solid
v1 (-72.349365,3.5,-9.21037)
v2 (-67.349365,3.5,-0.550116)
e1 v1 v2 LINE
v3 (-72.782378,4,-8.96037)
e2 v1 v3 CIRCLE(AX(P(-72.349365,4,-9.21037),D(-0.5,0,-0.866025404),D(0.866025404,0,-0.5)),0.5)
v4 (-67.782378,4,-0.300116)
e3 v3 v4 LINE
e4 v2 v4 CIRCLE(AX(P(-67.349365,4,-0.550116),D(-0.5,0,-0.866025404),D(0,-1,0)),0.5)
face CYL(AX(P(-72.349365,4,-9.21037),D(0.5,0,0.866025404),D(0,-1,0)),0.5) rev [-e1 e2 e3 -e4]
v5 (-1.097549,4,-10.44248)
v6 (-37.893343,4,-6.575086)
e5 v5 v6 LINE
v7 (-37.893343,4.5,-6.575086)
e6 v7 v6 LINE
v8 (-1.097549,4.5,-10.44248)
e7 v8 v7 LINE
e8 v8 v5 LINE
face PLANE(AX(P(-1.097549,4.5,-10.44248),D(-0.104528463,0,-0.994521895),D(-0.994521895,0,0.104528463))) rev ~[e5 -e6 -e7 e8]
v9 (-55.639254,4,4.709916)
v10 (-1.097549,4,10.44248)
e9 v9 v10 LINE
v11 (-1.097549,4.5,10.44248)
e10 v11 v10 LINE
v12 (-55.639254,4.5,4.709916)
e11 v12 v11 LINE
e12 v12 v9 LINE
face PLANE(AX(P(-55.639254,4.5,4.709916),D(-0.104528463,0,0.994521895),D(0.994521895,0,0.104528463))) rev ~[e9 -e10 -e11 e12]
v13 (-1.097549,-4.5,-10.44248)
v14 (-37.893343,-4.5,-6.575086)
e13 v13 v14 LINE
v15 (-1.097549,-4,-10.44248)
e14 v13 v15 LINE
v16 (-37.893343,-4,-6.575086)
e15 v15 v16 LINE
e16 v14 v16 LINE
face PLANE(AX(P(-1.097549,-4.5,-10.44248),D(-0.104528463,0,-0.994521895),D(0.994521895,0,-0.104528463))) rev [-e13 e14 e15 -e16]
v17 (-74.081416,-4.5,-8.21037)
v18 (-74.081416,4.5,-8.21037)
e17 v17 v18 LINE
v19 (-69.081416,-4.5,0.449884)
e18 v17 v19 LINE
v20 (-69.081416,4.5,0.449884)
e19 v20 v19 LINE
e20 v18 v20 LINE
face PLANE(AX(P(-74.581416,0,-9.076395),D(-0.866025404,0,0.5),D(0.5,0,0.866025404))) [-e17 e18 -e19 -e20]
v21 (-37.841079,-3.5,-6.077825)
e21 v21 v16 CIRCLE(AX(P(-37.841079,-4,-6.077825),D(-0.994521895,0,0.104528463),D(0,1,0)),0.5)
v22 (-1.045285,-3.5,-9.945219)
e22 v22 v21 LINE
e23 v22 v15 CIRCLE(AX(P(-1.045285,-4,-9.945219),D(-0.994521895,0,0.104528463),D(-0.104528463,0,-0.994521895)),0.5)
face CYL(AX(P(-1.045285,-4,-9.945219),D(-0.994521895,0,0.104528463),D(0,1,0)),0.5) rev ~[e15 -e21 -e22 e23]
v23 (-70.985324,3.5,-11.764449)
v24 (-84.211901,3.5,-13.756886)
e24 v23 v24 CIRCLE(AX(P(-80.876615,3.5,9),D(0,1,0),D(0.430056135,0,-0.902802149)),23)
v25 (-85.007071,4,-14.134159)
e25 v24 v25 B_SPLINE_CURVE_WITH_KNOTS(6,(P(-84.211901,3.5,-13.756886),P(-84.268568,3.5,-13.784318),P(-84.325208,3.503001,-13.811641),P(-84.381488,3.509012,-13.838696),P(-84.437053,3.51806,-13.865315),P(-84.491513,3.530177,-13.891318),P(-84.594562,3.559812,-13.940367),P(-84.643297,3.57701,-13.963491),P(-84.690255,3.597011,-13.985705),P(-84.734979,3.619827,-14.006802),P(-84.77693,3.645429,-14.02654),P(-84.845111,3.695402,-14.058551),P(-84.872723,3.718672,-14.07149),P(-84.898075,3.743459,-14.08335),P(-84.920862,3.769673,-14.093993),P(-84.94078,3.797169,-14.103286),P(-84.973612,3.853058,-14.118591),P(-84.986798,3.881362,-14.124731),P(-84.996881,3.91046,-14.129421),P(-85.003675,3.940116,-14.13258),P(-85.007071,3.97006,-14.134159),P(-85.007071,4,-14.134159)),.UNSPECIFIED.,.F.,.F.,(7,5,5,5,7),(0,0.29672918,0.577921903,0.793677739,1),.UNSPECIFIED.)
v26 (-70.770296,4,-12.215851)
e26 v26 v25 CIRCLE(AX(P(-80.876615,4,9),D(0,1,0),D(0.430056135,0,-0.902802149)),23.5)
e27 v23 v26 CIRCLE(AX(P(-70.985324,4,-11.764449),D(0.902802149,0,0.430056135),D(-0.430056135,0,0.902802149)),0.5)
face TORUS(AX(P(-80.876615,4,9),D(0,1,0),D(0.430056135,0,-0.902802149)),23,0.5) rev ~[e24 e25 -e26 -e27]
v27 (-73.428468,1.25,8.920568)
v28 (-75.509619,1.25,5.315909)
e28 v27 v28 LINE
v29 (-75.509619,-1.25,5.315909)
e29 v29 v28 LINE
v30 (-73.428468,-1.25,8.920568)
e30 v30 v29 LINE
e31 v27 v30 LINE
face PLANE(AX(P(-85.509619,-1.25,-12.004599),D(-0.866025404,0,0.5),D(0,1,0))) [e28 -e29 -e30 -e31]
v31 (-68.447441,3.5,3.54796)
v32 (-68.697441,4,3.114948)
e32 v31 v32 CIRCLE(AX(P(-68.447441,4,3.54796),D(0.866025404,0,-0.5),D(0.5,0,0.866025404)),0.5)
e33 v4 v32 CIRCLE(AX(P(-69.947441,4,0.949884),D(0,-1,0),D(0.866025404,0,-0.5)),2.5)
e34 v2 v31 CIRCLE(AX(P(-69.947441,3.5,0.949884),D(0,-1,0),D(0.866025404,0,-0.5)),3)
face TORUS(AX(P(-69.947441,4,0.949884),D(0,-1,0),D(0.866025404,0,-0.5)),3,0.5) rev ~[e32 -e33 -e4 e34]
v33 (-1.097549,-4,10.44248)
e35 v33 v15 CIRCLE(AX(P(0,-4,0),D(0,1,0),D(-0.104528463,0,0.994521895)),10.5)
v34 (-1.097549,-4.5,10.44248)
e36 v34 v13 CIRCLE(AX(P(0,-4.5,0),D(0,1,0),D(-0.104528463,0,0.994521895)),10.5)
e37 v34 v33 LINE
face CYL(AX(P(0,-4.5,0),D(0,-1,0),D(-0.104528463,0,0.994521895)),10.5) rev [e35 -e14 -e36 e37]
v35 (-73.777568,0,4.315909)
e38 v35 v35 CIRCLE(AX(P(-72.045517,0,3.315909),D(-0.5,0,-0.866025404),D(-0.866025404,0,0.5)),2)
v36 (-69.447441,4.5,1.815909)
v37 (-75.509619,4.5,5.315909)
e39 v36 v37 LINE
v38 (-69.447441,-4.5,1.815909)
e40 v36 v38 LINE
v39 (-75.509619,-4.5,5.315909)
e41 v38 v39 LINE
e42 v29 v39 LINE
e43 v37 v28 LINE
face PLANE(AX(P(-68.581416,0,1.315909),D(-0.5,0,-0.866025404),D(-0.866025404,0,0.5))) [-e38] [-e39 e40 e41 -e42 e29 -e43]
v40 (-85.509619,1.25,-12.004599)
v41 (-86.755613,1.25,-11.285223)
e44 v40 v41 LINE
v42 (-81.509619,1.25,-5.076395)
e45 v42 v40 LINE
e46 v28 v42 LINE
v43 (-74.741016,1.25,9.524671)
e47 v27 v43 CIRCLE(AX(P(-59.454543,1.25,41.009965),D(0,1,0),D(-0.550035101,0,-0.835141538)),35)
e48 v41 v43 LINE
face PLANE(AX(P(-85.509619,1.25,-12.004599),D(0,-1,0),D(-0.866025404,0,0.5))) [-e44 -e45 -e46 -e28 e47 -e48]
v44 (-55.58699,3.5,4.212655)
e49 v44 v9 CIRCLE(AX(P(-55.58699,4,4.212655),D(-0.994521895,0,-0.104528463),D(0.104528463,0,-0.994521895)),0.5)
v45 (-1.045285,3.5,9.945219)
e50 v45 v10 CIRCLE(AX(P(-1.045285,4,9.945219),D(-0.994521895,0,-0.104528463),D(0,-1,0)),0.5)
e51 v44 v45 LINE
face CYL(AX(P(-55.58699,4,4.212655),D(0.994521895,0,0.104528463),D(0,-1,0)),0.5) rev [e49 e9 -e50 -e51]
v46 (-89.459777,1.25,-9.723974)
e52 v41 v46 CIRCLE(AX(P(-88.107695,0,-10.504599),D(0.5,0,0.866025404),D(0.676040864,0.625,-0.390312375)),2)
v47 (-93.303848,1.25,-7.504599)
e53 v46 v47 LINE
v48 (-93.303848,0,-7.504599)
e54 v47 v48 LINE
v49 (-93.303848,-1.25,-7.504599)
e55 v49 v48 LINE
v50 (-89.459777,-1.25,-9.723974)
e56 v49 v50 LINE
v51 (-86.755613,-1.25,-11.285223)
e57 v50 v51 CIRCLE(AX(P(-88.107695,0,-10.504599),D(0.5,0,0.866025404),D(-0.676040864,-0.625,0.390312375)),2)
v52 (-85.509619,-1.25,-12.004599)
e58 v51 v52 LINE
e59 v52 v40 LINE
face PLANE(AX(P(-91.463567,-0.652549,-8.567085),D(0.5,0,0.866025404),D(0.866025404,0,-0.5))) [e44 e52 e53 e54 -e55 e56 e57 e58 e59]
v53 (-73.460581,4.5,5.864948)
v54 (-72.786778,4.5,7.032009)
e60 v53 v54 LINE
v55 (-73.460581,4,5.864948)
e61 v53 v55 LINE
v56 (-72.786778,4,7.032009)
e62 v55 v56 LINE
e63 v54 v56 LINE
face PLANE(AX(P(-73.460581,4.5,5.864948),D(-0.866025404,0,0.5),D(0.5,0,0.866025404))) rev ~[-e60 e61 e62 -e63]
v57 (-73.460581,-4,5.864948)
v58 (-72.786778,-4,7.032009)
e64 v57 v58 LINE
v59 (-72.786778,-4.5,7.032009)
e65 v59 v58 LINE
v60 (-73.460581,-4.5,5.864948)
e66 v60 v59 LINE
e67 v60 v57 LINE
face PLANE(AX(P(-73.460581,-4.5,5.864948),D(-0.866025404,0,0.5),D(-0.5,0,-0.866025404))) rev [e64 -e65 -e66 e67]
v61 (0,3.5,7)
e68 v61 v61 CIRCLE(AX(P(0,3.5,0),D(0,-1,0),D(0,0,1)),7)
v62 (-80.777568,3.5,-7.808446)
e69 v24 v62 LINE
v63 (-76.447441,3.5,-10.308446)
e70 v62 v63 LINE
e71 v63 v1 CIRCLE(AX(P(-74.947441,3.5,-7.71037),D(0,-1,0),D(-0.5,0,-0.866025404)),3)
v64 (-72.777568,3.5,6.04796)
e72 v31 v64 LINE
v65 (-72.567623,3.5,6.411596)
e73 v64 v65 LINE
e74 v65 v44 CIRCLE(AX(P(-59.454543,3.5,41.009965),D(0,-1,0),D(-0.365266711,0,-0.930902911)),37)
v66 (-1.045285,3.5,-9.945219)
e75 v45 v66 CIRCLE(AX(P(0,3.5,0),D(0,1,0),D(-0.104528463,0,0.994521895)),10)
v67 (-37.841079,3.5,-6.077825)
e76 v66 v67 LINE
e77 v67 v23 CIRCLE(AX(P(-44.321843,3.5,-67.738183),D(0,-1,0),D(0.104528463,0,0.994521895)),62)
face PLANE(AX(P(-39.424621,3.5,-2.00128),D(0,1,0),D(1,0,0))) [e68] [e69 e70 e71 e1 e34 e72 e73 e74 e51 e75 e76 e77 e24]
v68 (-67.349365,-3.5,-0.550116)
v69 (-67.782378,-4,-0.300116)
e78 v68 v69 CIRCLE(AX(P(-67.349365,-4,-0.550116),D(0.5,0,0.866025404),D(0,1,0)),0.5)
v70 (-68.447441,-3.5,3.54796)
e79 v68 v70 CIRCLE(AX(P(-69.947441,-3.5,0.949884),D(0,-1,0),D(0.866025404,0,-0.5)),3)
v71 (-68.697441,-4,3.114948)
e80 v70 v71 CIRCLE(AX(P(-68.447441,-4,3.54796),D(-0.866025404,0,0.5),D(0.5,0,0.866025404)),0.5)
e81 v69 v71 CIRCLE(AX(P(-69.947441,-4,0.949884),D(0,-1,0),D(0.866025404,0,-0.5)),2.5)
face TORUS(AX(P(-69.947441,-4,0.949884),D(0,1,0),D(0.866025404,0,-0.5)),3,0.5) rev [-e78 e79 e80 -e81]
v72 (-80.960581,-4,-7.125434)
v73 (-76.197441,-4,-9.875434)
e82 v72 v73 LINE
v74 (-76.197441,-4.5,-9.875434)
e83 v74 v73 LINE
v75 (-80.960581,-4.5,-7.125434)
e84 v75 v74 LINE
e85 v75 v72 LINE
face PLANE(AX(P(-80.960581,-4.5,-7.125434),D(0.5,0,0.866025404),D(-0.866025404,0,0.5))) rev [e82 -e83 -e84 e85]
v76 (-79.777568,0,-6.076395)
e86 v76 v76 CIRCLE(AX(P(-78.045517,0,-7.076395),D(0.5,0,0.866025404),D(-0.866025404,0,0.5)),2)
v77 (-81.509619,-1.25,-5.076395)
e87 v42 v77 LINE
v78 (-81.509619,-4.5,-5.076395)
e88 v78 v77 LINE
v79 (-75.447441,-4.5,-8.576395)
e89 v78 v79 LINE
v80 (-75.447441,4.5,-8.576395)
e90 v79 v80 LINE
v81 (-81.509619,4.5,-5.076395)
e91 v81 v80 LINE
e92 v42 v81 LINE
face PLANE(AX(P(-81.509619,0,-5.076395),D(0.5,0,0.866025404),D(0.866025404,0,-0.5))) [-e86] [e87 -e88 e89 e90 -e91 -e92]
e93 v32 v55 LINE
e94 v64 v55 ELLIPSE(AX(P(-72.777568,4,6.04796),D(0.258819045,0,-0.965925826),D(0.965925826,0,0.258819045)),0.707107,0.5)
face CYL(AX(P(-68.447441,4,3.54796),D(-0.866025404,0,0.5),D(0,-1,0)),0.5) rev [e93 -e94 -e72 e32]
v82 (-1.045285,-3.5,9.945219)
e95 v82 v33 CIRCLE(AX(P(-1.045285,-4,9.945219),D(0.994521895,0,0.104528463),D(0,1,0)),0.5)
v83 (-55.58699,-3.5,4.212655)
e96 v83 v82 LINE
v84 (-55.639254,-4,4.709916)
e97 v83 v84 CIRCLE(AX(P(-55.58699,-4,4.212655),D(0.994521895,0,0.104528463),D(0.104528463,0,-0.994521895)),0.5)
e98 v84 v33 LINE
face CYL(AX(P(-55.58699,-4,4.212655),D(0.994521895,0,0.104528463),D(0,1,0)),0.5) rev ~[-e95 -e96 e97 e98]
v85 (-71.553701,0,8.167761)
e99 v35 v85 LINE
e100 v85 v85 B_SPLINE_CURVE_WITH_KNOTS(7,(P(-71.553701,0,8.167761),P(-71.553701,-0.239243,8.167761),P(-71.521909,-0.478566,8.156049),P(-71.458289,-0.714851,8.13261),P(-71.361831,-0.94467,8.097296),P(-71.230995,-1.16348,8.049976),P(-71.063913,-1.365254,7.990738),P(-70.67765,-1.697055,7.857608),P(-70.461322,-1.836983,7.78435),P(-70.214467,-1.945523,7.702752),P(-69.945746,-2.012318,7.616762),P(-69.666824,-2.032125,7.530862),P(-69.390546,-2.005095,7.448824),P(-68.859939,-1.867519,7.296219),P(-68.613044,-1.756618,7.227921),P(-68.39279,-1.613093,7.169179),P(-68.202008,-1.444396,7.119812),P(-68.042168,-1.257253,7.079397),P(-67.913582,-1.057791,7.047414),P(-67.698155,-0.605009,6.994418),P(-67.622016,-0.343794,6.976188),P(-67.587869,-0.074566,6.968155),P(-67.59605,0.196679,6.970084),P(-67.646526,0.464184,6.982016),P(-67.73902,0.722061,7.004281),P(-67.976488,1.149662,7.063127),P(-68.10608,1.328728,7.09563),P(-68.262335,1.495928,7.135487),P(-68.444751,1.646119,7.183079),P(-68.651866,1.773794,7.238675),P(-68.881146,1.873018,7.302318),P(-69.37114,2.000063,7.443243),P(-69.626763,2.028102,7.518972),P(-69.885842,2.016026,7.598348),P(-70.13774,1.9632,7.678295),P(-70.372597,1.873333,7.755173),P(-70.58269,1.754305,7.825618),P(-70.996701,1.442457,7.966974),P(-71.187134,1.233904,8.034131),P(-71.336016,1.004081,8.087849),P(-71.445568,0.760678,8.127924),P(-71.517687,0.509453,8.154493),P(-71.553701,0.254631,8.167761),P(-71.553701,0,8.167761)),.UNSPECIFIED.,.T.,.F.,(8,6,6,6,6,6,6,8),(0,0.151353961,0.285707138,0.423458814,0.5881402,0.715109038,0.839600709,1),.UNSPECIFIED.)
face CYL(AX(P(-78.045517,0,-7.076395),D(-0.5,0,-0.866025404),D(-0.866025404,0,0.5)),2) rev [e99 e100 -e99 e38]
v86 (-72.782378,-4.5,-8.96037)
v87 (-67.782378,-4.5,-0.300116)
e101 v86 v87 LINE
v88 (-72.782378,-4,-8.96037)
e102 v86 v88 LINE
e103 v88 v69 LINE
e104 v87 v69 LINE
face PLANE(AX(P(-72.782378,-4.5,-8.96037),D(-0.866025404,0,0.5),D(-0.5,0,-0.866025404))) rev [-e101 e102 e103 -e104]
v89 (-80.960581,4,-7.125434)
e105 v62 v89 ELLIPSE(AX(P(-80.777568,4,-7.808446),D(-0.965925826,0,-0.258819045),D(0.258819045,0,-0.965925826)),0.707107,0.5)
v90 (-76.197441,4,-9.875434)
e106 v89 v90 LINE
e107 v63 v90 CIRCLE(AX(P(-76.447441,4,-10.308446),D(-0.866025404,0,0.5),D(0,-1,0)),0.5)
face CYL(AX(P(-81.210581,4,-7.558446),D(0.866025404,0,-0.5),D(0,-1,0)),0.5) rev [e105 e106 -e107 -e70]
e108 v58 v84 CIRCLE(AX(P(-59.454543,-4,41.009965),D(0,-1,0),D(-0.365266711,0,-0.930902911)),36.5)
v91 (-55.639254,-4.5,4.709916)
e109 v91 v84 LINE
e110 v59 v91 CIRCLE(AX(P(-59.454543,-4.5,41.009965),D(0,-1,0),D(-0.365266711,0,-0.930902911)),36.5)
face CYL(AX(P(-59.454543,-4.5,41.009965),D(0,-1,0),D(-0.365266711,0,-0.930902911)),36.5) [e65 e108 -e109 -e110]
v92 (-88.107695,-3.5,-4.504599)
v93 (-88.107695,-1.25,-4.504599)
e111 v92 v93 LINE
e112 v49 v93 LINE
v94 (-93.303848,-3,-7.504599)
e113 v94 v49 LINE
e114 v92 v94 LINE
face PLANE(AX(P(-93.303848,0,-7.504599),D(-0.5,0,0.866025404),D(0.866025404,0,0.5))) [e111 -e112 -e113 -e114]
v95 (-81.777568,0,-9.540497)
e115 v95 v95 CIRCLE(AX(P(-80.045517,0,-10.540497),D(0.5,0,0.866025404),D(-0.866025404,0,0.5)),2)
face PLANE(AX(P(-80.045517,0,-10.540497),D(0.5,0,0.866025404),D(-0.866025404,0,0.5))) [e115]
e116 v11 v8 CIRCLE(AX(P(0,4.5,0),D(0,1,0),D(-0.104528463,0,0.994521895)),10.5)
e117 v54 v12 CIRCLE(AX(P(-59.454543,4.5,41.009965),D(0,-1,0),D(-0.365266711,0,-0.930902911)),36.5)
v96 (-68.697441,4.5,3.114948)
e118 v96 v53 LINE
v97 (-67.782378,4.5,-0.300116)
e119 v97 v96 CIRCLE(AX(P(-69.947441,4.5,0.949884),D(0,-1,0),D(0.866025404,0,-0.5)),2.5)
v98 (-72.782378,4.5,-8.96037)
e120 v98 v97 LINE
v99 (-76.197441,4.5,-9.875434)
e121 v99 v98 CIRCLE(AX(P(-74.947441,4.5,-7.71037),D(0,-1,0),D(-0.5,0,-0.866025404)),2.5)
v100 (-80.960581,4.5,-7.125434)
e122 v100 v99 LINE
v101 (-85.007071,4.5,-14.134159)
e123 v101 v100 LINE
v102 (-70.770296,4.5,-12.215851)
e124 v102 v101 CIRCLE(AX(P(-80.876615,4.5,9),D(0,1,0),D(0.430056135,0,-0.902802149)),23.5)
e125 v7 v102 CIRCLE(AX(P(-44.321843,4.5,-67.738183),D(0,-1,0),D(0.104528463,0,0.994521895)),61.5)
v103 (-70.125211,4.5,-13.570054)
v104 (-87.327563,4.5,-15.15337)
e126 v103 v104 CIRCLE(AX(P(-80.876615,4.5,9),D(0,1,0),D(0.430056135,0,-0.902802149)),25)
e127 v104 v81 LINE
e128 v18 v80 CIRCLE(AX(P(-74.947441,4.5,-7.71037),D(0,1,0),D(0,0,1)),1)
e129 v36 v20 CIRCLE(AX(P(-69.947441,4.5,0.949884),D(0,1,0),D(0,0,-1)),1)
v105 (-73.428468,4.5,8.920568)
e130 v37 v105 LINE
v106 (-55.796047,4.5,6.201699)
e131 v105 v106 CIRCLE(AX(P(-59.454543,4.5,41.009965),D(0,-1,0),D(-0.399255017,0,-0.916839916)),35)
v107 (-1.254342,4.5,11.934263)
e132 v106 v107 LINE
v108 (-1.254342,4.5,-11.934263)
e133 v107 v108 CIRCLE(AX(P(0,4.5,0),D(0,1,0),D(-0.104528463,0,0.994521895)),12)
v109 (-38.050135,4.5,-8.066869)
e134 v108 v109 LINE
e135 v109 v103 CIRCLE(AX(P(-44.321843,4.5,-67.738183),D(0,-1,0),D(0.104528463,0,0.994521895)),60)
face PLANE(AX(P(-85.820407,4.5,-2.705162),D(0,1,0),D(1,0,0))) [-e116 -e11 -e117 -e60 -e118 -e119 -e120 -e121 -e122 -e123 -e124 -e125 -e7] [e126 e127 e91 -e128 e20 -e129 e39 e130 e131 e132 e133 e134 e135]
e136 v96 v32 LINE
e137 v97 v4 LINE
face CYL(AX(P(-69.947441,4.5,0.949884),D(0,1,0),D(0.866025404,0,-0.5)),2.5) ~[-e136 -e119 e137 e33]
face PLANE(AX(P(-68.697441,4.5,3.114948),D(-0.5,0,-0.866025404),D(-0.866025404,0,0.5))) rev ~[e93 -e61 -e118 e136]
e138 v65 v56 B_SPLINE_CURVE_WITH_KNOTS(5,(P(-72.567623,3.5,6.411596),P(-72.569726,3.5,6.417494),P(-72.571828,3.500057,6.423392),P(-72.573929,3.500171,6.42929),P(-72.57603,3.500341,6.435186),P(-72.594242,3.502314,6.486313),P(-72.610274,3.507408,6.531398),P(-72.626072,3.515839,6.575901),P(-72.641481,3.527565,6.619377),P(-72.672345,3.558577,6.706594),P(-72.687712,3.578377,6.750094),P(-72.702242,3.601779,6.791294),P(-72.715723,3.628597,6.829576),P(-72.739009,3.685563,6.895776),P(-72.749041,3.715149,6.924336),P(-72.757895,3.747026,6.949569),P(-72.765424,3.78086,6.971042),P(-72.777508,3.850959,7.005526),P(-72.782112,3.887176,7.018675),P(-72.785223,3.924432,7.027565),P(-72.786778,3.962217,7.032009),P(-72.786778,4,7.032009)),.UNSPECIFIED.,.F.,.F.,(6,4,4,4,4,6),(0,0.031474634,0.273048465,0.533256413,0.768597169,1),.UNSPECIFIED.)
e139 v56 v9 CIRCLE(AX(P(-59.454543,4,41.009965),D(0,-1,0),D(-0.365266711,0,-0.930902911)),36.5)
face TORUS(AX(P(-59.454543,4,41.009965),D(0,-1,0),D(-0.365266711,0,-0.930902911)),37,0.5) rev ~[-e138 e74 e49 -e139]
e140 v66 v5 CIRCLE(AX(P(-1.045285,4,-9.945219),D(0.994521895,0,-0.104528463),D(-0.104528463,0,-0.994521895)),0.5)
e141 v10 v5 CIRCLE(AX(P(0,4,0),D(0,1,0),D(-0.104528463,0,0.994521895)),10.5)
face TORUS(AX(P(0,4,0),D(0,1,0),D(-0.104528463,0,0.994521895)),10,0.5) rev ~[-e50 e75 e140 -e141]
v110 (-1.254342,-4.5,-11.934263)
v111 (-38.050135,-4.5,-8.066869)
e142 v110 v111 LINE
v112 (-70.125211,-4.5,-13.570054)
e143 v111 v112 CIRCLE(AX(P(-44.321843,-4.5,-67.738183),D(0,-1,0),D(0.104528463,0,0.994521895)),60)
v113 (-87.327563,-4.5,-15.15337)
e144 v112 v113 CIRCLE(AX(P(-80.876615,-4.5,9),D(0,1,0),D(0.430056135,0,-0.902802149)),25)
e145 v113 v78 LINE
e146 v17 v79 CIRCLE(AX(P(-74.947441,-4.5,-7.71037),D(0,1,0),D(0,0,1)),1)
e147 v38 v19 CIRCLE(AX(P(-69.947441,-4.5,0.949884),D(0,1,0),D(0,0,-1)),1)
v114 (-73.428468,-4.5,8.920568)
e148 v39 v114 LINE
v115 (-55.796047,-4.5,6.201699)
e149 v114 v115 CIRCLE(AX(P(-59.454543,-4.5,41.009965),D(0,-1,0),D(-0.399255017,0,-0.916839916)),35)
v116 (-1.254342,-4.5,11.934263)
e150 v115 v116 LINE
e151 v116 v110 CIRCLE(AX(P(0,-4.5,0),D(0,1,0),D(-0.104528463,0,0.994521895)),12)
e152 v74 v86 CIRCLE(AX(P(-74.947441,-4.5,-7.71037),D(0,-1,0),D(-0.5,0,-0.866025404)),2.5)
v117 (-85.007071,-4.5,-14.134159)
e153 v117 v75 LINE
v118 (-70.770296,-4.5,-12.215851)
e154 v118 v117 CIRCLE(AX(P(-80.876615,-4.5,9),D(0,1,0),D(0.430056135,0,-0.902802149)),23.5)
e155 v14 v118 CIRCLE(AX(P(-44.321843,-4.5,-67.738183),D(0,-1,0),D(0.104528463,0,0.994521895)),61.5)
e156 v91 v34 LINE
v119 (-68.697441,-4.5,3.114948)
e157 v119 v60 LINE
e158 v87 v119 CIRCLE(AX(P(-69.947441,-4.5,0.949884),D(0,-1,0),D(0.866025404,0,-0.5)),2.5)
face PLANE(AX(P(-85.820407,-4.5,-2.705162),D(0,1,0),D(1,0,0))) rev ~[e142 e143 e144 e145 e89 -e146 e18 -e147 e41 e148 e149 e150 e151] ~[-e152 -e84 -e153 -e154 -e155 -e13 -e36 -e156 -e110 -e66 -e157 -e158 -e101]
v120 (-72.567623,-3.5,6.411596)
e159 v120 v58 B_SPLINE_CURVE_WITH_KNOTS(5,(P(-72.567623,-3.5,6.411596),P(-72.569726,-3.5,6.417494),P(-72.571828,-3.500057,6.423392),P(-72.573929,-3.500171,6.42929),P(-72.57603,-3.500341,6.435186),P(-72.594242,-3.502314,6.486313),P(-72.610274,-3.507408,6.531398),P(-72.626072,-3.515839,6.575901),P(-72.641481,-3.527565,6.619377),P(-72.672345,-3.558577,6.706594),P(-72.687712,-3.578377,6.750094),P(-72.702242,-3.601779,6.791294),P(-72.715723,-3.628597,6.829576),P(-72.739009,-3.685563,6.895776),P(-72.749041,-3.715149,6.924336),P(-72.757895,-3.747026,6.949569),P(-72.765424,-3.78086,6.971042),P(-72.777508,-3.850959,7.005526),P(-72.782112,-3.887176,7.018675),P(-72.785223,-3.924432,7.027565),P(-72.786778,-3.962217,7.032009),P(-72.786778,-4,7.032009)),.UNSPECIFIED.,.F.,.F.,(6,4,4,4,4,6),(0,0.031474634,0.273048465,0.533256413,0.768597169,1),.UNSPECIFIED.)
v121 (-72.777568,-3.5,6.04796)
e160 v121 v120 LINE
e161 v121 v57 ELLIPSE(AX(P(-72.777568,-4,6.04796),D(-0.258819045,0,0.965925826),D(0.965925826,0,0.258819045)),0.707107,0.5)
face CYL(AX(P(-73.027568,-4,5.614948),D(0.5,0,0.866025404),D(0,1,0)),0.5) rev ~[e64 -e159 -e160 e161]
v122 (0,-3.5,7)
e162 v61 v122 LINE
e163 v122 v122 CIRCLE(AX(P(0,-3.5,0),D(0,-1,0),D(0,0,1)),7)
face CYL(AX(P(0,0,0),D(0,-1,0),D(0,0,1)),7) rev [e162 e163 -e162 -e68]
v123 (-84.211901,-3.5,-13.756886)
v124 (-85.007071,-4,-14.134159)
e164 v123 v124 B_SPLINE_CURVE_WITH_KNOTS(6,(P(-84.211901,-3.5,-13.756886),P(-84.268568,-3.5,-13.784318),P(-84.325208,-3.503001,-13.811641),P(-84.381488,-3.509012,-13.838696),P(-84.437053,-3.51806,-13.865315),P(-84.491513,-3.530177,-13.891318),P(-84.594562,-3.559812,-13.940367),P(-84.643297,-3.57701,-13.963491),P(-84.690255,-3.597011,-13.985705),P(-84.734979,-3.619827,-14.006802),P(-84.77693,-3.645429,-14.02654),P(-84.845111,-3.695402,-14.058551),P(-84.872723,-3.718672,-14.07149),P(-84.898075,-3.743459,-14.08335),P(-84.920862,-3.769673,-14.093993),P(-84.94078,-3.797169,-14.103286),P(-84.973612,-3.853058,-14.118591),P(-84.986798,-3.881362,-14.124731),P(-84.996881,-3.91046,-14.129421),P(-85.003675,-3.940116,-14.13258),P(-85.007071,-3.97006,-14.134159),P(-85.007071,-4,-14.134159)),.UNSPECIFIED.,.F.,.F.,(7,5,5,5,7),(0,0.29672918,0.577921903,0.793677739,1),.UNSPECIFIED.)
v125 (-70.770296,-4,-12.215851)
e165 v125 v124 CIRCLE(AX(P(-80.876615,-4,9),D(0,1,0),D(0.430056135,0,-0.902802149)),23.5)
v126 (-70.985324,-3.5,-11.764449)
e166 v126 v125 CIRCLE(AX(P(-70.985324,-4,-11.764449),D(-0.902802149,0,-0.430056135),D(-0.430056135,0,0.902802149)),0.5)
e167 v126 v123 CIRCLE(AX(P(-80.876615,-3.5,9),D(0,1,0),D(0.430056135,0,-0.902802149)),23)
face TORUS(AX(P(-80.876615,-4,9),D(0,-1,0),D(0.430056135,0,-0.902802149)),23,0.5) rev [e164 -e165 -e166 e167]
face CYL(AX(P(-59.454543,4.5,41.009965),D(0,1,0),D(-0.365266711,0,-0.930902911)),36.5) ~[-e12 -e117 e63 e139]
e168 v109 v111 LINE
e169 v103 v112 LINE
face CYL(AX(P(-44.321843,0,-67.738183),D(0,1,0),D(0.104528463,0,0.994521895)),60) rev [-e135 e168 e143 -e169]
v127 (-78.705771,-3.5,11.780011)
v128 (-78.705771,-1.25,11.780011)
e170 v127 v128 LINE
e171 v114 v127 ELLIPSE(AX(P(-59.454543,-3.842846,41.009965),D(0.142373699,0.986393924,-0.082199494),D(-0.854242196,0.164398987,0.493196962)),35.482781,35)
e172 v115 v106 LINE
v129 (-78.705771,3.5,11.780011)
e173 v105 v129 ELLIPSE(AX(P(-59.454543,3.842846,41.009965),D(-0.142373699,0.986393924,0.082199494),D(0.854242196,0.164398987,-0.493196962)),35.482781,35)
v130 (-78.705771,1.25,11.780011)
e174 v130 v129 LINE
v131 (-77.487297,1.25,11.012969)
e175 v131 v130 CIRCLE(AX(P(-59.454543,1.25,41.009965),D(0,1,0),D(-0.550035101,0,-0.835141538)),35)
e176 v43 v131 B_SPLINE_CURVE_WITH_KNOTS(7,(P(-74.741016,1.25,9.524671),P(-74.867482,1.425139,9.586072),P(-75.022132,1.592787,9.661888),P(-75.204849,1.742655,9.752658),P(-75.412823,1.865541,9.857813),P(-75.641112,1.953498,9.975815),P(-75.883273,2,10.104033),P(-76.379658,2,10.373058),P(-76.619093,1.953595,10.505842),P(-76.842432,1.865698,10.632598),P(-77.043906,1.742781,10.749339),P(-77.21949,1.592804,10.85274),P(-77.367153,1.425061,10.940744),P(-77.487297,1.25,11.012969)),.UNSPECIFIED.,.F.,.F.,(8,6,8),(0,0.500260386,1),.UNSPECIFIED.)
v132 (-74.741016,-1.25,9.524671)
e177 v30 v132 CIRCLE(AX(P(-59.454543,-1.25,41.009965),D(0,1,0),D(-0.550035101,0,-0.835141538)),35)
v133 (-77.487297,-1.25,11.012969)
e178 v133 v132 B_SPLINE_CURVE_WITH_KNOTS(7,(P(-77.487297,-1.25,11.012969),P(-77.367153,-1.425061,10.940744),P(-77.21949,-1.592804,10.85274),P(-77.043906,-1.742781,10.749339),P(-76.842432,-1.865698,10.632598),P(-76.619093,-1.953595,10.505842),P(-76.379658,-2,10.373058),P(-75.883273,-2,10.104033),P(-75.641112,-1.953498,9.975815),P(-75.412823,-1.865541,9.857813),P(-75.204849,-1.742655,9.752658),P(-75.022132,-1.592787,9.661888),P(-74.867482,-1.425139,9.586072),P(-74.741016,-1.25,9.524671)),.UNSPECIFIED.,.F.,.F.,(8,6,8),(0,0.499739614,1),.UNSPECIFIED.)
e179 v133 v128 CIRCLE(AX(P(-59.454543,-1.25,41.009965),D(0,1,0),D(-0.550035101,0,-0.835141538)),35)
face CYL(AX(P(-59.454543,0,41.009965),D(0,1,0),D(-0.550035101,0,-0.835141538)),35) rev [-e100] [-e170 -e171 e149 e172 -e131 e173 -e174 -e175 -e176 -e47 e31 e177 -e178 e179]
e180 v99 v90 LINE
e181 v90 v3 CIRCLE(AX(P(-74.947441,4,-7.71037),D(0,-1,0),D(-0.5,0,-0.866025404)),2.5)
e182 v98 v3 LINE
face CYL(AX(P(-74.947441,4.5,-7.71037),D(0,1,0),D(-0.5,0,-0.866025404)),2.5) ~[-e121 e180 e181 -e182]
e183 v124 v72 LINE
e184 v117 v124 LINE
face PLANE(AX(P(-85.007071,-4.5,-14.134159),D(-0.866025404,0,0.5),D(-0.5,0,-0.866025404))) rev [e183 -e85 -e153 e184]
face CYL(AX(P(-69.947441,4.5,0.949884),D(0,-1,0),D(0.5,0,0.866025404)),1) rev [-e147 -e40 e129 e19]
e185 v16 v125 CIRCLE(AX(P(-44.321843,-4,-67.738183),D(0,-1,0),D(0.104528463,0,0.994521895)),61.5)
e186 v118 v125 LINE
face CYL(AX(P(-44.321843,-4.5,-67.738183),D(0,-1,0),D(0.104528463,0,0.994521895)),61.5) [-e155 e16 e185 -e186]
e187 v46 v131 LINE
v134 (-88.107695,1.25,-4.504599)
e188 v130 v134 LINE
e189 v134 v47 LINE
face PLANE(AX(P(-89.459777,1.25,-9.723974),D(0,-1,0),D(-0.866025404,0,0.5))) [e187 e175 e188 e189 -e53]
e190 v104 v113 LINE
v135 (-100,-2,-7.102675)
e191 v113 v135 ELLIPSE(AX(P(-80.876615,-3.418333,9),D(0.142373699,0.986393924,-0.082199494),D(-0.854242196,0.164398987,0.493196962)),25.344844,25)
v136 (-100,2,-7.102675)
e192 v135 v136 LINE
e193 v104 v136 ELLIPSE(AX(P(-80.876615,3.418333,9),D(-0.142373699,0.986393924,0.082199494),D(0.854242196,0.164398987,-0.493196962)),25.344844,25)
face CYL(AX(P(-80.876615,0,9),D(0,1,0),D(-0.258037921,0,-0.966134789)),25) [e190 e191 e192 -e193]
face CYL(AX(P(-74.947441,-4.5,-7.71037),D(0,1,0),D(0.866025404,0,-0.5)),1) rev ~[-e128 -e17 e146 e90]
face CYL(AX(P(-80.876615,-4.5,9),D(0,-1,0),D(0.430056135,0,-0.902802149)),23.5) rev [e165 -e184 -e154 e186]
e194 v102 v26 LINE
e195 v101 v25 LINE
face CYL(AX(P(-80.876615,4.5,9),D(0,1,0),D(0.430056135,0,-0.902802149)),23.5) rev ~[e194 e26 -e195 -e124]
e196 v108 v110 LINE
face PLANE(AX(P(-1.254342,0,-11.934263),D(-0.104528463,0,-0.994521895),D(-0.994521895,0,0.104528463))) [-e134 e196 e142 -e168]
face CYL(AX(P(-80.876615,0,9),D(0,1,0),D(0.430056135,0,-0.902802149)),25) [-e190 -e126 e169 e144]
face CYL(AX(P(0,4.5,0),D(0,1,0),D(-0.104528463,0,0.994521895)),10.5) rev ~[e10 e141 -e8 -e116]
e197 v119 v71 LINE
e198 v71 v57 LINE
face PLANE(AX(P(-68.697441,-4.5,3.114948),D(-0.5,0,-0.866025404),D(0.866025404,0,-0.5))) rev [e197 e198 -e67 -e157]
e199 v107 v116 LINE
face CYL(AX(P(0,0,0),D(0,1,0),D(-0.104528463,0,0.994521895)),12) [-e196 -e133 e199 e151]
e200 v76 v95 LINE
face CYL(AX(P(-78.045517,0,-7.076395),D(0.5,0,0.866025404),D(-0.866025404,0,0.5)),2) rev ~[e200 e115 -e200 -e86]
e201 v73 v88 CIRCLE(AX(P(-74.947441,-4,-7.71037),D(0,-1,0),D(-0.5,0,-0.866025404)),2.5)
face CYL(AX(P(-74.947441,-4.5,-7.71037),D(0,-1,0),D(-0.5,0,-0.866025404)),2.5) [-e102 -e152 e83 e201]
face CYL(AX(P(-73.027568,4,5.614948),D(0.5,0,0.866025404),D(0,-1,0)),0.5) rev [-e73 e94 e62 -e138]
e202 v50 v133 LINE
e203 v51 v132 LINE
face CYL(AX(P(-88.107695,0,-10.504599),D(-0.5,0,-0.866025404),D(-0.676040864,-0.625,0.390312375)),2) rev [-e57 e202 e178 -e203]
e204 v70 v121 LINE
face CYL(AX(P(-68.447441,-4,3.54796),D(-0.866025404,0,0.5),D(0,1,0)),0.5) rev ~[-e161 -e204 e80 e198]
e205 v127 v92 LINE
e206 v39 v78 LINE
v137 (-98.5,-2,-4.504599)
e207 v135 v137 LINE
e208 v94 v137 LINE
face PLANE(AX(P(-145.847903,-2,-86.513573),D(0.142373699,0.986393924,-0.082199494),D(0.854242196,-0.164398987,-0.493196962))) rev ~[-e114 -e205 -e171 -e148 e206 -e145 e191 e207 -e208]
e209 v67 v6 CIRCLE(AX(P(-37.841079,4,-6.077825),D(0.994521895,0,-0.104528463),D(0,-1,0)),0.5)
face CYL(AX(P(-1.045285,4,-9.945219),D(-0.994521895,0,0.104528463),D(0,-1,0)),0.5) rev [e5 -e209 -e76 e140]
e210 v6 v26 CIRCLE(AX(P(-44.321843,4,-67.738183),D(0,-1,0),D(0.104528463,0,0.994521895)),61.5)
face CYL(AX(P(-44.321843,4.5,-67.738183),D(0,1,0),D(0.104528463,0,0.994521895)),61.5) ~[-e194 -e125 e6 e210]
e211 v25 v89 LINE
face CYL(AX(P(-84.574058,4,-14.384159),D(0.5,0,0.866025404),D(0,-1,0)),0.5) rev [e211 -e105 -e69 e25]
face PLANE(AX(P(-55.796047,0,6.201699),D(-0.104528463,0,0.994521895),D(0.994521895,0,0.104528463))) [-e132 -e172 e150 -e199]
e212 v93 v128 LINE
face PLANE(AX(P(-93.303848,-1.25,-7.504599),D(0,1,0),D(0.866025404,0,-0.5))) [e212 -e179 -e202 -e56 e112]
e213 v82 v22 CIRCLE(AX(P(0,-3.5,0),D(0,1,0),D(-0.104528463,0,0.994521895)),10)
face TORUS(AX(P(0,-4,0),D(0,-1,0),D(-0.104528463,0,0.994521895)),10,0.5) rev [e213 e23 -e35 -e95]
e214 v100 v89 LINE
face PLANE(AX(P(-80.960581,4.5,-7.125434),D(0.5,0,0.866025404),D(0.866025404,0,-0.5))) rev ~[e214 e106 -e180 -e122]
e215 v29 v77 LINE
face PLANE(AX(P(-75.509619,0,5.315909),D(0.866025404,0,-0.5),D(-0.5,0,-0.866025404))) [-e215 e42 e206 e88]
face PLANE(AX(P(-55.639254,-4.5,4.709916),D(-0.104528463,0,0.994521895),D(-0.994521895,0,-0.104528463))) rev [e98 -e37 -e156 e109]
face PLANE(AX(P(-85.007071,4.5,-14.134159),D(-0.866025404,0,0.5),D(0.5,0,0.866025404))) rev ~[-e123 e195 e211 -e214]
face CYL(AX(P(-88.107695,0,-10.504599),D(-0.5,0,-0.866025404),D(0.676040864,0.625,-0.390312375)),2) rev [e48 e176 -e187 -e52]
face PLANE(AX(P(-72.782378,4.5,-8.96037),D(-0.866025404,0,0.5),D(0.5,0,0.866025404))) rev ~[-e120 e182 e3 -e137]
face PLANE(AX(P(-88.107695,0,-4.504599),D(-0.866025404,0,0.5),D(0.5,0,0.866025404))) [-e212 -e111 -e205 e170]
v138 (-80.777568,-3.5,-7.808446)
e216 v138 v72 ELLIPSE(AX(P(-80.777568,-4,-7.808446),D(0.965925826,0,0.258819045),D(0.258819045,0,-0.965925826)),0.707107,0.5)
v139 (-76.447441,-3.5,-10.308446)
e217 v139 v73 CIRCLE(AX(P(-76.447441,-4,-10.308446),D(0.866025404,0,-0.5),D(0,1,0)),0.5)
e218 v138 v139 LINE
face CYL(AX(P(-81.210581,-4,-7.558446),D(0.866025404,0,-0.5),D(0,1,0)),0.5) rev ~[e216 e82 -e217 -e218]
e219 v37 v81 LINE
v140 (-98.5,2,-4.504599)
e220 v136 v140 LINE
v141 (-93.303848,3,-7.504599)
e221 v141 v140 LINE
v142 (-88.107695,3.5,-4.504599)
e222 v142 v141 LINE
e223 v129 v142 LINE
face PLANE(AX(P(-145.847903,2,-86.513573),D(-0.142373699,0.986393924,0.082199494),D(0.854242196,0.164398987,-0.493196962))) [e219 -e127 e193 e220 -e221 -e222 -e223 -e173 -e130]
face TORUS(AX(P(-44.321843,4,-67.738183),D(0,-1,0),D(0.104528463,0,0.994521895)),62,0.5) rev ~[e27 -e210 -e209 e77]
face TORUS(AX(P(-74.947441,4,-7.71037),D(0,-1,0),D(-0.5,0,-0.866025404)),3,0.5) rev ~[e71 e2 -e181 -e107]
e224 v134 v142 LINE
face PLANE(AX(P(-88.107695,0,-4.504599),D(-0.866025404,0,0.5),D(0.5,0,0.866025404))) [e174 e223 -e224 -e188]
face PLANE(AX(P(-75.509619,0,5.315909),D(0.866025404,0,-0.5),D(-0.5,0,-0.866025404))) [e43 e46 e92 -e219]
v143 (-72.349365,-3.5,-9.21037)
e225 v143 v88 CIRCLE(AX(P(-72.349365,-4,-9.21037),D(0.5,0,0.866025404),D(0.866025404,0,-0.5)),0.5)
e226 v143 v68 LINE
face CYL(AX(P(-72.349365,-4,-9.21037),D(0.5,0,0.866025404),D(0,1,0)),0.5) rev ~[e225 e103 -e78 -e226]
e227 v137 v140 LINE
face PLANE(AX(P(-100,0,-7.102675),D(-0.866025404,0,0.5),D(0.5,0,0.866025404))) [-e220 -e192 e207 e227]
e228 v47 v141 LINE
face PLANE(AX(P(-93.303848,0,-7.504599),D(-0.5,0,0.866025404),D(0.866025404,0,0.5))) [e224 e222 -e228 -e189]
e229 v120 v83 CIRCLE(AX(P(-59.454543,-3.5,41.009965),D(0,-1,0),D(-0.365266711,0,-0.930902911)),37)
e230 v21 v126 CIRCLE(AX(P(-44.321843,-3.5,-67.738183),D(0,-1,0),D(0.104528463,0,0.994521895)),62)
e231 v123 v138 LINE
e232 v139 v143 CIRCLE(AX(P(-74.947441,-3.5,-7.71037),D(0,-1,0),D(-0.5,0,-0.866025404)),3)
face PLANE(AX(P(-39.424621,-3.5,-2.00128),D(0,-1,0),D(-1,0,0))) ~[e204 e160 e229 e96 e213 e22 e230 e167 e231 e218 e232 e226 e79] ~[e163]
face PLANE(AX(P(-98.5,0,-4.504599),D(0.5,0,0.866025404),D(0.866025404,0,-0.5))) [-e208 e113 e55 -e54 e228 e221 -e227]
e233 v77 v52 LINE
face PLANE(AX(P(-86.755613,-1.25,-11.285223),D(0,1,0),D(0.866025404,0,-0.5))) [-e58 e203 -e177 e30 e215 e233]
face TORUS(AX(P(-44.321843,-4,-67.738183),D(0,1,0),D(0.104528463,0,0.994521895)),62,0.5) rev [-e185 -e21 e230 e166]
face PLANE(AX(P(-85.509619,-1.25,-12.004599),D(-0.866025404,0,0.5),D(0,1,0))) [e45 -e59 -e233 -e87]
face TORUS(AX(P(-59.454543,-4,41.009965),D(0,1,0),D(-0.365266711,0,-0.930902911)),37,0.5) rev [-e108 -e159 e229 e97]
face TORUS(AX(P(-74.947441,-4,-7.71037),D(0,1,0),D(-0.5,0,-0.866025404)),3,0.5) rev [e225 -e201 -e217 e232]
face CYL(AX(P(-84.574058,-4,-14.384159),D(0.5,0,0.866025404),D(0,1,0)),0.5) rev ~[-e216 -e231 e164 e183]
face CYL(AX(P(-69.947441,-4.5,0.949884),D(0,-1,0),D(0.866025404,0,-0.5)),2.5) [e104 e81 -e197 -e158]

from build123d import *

# Parameters (mm, degrees)
SKETCH1_R                           = 7
BOSS_EXTRUDE1_DEPTH                 = 4.5
SKETCH2_R                           = 2
CUT_EXTRUDE1_DEPTH                  = 4
CUT_EXTRUDE1_DIRECTION_2_REACH      = 94.877
CUT_EXTRUDE1_DIRECTION_2_END_RADIUS = 35
CUT_EXTRUDE2_REACH                  = 95.696
CUT_EXTRUDE3_DEPTH                  = 94.695806816
CUT_EXTRUDE3_DEPTH_BACK             = 94.695806816
FILLET1_R                           = 1
CUT_EXTRUDE4_DEPTH                  = 1
FILLET2_R                           = 0.5
FILLET2_OF_MIRROR1_R                = 0.5


with BuildPart() as part:
    # Sketch1 → Boss-Extrude1 (new, symmetric)
    # profile 1 of 2: a face of its own
    with BuildSketch(Plane(origin=(0, 0, 0), x_dir=(1, 0, 0), z_dir=(0, 1, 0))):
        with BuildLine():
            Line((-1.254341559, 11.934262744), (-38.050135484, 8.066868963))
            ThreePointArc((-38.050135484, 8.066868963), (-54.467911448, 8.602260432), (-70.125211386, 13.570053731))
            ThreePointArc((-70.125211386, 13.570053731), (-78.585282956, 15.894774523), (-87.327562788, 15.153369736))
            Line((-87.327562788, 15.153369736), (-81.509618943, 5.076395401))
            Line((-81.509618943, 5.076395401), (-74.581415713, 9.076395401))
            Line((-74.581415713, 9.076395401), (-68.581415713, -1.315909444))
            Line((-68.581415713, -1.315909444), (-75.509618943, -5.315909444))
            Line((-75.509618943, -5.315909444), (-73.428468454, -8.92056783))
            ThreePointArc((-73.428468454, -8.92056783), (-64.788404808, -6.418782239), (-55.79604663, -6.201698543))
            Line((-55.79604663, -6.201698543), (-1.254341559, -11.934262744))
            ThreePointArc((-1.254341559, -11.934262744), (12, 0), (-1.254341559, 11.934262744))
        make_face()
        with Locations(Location((0, 0, 0), (0, 0, 270))):
            Circle(SKETCH1_R, mode=Mode.SUBTRACT)
    # profile 2 of 2: a face of its own
    with BuildSketch(Plane(origin=(0, 0, 0), x_dir=(1, 0, 0), z_dir=(0, 1, 0))):
        with BuildLine():
            Line((-81.509618943, 5.076395401), (-87.327562788, 15.153369736))
            ThreePointArc((-87.327562788, 15.153369736), (-94.282399056, 12.101775932), (-100, 7.102674843))
            Line((-100, 7.102674843), (-98.5, 4.504598631))
            Line((-98.5, 4.504598631), (-93.303847577, 7.504598631))
            Line((-93.303847577, 7.504598631), (-88.107695155, 4.504598631))
            Line((-88.107695155, 4.504598631), (-78.705771366, -11.78001106))
            ThreePointArc((-78.705771366, -11.78001106), (-76.12852919, -10.236954314), (-73.428468454, -8.92056783))
            Line((-73.428468454, -8.92056783), (-75.509618943, -5.315909444))
            Line((-75.509618943, -5.315909444), (-81.509618943, 5.076395401))
        make_face()
    extrude(amount=BOSS_EXTRUDE1_DEPTH, both=True)

    # Sketch2 → Cut-Extrude1 (cut)
    with BuildSketch(Plane(origin=(-22.575548424, 0, -39.10199688), x_dir=(0.8660254037844372, 0, -0.5000000000000027), z_dir=(0.5000000000000027, 0, 0.8660254037844372))):
        with Locations(Location((-64.051202957, 0, 0), (0, 0, 180))):
            Circle(SKETCH2_R)
    extrude(amount=-CUT_EXTRUDE1_DEPTH, mode=Mode.SUBTRACT)

    # Cut-Extrude1 direction 2: up to this cylinder (the profile starts outside it)
    cut_extrude1_direction_2_end = Plane(origin=(-59.454542844, 0, 41.009964881), z_dir=(0, -1, 0)) * Cylinder(CUT_EXTRUDE1_DIRECTION_2_END_RADIUS, 260.754, mode=Mode.PRIVATE)
    # Sketch2 → Cut-Extrude1 direction 2 (cut, up to the surface)
    with BuildSketch(Plane(origin=(-22.575548424, 0, -39.10199688), x_dir=(0.8660254037844372, 0, -0.5000000000000027), z_dir=(0.5000000000000027, 0, 0.8660254037844372)), mode=Mode.PRIVATE) as cut_extrude1_direction_2_sk1:
        with Locations(Location((-64.051202957, 0, 0), (0, 0, 180))):
            Circle(SKETCH2_R)
    cut_extrude1_direction_2_tool1 = extrude(cut_extrude1_direction_2_sk1.sketch, amount=CUT_EXTRUDE1_DIRECTION_2_REACH, mode=Mode.PRIVATE) - cut_extrude1_direction_2_end
    add(cut_extrude1_direction_2_tool1.solids().sort_by_distance((-78.045517, 0, -7.076395))[0], mode=Mode.SUBTRACT)

    # Sketch3 → Cut-Extrude2 (cut, up to next)
    with BuildSketch(Plane(origin=(-26.575548424, 0, -46.03020011), x_dir=(0.8660254037844374, 0, -0.5000000000000023), z_dir=(0.5000000000000023, 0, 0.8660254037844374)), mode=Mode.PRIVATE) as cut_extrude2_sk1:
        with BuildLine():
            ThreePointArc((-72.612452457, 1.25), (-72.938330271, 0.662382443), (-73.051202957, 0))
            Line((-73.051202957, 0), (-69.051202957, 0))
            ThreePointArc((-69.051202957, 0), (-69.164075643, 0.662382443), (-69.489953458, 1.25))
            ThreePointArc((-69.489953458, 1.25), (-71.051202957, 2), (-72.612452457, 1.25))
        make_face()
    cut_extrude2_tool1 = extrude(cut_extrude2_sk1.sketch, amount=CUT_EXTRUDE2_REACH, mode=Mode.PRIVATE) & part.part
    # Sketch3 → Cut-Extrude2 (cut, up to next)
    with BuildSketch(Plane(origin=(-26.575548424, 0, -46.03020011), x_dir=(0.8660254037844374, 0, -0.5000000000000023), z_dir=(0.5000000000000023, 0, 0.8660254037844374)), mode=Mode.PRIVATE) as cut_extrude2_sk2:
        with BuildLine():
            Line((-69.051202957, 0), (-73.051202957, 0))
            ThreePointArc((-73.051202957, 0), (-72.938330271, -0.662382443), (-72.612452457, -1.25))
            ThreePointArc((-72.612452457, -1.25), (-71.051202957, -2), (-69.489953458, -1.25))
            ThreePointArc((-69.489953458, -1.25), (-69.164075643, -0.662382443), (-69.051202957, 0))
        make_face()
    cut_extrude2_tool2 = extrude(cut_extrude2_sk2.sketch, amount=CUT_EXTRUDE2_REACH, mode=Mode.PRIVATE) & part.part
    # Sketch3 → Cut-Extrude2 (cut, up to next)
    with BuildSketch(Plane(origin=(-26.575548424, 0, -46.03020011), x_dir=(0.8660254037844374, 0, -0.5000000000000023), z_dir=(0.5000000000000023, 0, 0.8660254037844374)), mode=Mode.PRIVATE) as cut_extrude2_sk3:
        with BuildLine():
            ThreePointArc((-72.612452457, 1.25), (-72.938330271, 0.662382443), (-73.051202957, 0))
            Line((-73.051202957, 0), (-69.051202957, 0))
            ThreePointArc((-69.051202957, 0), (-69.164075643, 0.662382443), (-69.489953458, 1.25))
            ThreePointArc((-69.489953458, 1.25), (-71.051202957, 2), (-72.612452457, 1.25))
        make_face()
    cut_extrude2_tool3 = extrude(cut_extrude2_sk3.sketch, amount=CUT_EXTRUDE2_REACH, mode=Mode.PRIVATE) & part.part
    # Sketch3 → Cut-Extrude2 (cut, up to next)
    with BuildSketch(Plane(origin=(-26.575548424, 0, -46.03020011), x_dir=(0.8660254037844374, 0, -0.5000000000000023), z_dir=(0.5000000000000023, 0, 0.8660254037844374)), mode=Mode.PRIVATE) as cut_extrude2_sk4:
        with BuildLine():
            Line((-69.051202957, 0), (-73.051202957, 0))
            ThreePointArc((-73.051202957, 0), (-72.938330271, -0.662382443), (-72.612452457, -1.25))
            ThreePointArc((-72.612452457, -1.25), (-71.051202957, -2), (-69.489953458, -1.25))
            ThreePointArc((-69.489953458, -1.25), (-69.164075643, -0.662382443), (-69.051202957, 0))
        make_face()
    cut_extrude2_tool4 = extrude(cut_extrude2_sk4.sketch, amount=CUT_EXTRUDE2_REACH, mode=Mode.PRIVATE) & part.part
    # Sketch3 → Cut-Extrude2 (cut, up to next)
    with BuildSketch(Plane(origin=(-26.575548424, 0, -46.03020011), x_dir=(0.8660254037844374, 0, -0.5000000000000023), z_dir=(0.5000000000000023, 0, 0.8660254037844374)), mode=Mode.PRIVATE) as cut_extrude2_sk5:
        with BuildLine():
            Line((-77.051202957, 1.25), (-77.051202957, 0))
            Line((-77.051202957, 0), (-73.051202957, 0))
            ThreePointArc((-73.051202957, 0), (-72.938330271, 0.662382443), (-72.612452457, 1.25))
            Line((-72.612452457, 1.25), (-77.051202957, 1.25))
        make_face()
    cut_extrude2_tool5 = extrude(cut_extrude2_sk5.sketch, amount=CUT_EXTRUDE2_REACH, mode=Mode.PRIVATE) & part.part
    # Sketch3 → Cut-Extrude2 (cut, up to next)
    with BuildSketch(Plane(origin=(-26.575548424, 0, -46.03020011), x_dir=(0.8660254037844374, 0, -0.5000000000000023), z_dir=(0.5000000000000023, 0, 0.8660254037844374)), mode=Mode.PRIVATE) as cut_extrude2_sk6:
        with BuildLine():
            Line((-73.051202957, 0), (-77.051202957, 0))
            Line((-77.051202957, 0), (-77.051202957, -1.25))
            Line((-77.051202957, -1.25), (-72.612452457, -1.25))
            ThreePointArc((-72.612452457, -1.25), (-72.938330271, -0.662382443), (-73.051202957, 0))
        make_face()
    cut_extrude2_tool6 = extrude(cut_extrude2_sk6.sketch, amount=CUT_EXTRUDE2_REACH, mode=Mode.PRIVATE) & part.part
    # Sketch3 → Cut-Extrude2 (cut, up to next)
    with BuildSketch(Plane(origin=(-26.575548424, 0, -46.03020011), x_dir=(0.8660254037844374, 0, -0.5000000000000023), z_dir=(0.5000000000000023, 0, 0.8660254037844374)), mode=Mode.PRIVATE) as cut_extrude2_sk7:
        with BuildLine():
            ThreePointArc((-69.489953458, 1.25), (-69.164075643, 0.662382443), (-69.051202957, 0))
            Line((-69.051202957, 0), (-68.051202957, 0))
            Line((-68.051202957, 0), (-68.051202957, 1.25))
            Line((-68.051202957, 1.25), (-69.489953458, 1.25))
        make_face()
    cut_extrude2_tool7 = extrude(cut_extrude2_sk7.sketch, amount=CUT_EXTRUDE2_REACH, mode=Mode.PRIVATE) & part.part
    # Sketch3 → Cut-Extrude2 (cut, up to next)
    with BuildSketch(Plane(origin=(-26.575548424, 0, -46.03020011), x_dir=(0.8660254037844374, 0, -0.5000000000000023), z_dir=(0.5000000000000023, 0, 0.8660254037844374)), mode=Mode.PRIVATE) as cut_extrude2_sk8:
        with BuildLine():
            Line((-68.051202957, 0), (-69.051202957, 0))
            ThreePointArc((-69.051202957, 0), (-69.164075643, -0.662382443), (-69.489953458, -1.25))
            Line((-69.489953458, -1.25), (-68.051202957, -1.25))
            Line((-68.051202957, -1.25), (-68.051202957, 0))
        make_face()
    cut_extrude2_tool8 = extrude(cut_extrude2_sk8.sketch, amount=CUT_EXTRUDE2_REACH, mode=Mode.PRIVATE) & part.part
    add(cut_extrude2_tool1.solids().sort_by_distance((-88.107695, 0.848826, -10.504599))[0], mode=Mode.SUBTRACT)
    add(cut_extrude2_tool2.solids().sort_by_distance((-88.107695, -0.848826, -10.504599))[0], mode=Mode.SUBTRACT)
    add(cut_extrude2_tool3.solids().sort_by_distance((-88.107695, 0.848826, -10.504599))[0], mode=Mode.SUBTRACT)
    add(cut_extrude2_tool4.solids().sort_by_distance((-88.107695, -0.848826, -10.504599))[0], mode=Mode.SUBTRACT)
    add(cut_extrude2_tool5.solids().sort_by_distance((-91.509815, 0.635751, -8.540384))[0], mode=Mode.SUBTRACT)
    add(cut_extrude2_tool6.solids().sort_by_distance((-91.509815, -0.635751, -8.540384))[0], mode=Mode.SUBTRACT)
    add(cut_extrude2_tool7.solids().sort_by_distance((-86.009148, 0.664064, -11.716195))[0], mode=Mode.SUBTRACT)
    add(cut_extrude2_tool8.solids().sort_by_distance((-86.009148, -0.664064, -11.716195))[0], mode=Mode.SUBTRACT)

    # Sketch4 → Cut-Extrude3 (cut, two sides: drawn at the far end of the back side and taken through both)
    with BuildSketch(Plane(origin=(-26.575548424, 0, -46.03020011), x_dir=(0.8660254037844374, 0, -0.5000000000000023), z_dir=(0.5000000000000023, 0, 0.8660254037844374)).offset(-CUT_EXTRUDE3_DEPTH_BACK)):
        Polygon((-68.051202957, 4.5), (-83.051202957, 4.5), (-83.051202957, 2), align=None)
        Polygon((-68.051202957, -4.5), (-83.051202957, -4.5), (-83.051202957, -2), align=None)
    extrude(amount=CUT_EXTRUDE3_DEPTH + CUT_EXTRUDE3_DEPTH_BACK, mode=Mode.SUBTRACT)

    # Fillet1
    fillet1_edges = [part.edges().sort_by_distance(p)[0] for p in [
        (-68.581415713, 0, 1.315909444),
        (-74.581415713, 0, -9.076395401),
    ]]
    fillet(fillet1_edges, radius=FILLET1_R)

    # Sketch5 → Cut-Extrude4 (cut)
    with BuildSketch(Plane(origin=(0, 4.5, 0), x_dir=(1, 0, 0), z_dir=(0, 1, 0))):
        with BuildLine():
            Line((-85.007070656, 14.134159464), (-80.960580838, 7.125433507))
            Line((-80.960580838, 7.125433507), (-76.197441117, 9.875433507))
            ThreePointArc((-76.197441117, 9.875433507), (-74.300393504, 10.125184563), (-72.782377607, 8.960369997))
            Line((-72.782377607, 8.960369997), (-67.782377607, 0.300115959))
            ThreePointArc((-67.782377607, 0.300115959), (-67.532626551, -1.596931653), (-68.697441117, -3.11494755))
            Line((-68.697441117, -3.11494755), (-73.460580838, -5.86494755))
            Line((-73.460580838, -5.86494755), (-72.786777808, -7.032008632))
            ThreePointArc((-72.786777808, -7.032008632), (-64.352613326, -4.84010304), (-55.639253935, -4.7099157))
            Line((-55.639253935, -4.7099157), (-1.097548864, -10.442479901))
            ThreePointArc((-1.097548864, -10.442479901), (10.5, 0), (-1.097548864, 10.442479901))
            Line((-1.097548864, 10.442479901), (-37.893342789, 6.57508612))
            ThreePointArc((-37.893342789, 6.57508612), (-54.721563152, 7.123862376), (-70.770295589, 12.215850507))
            ThreePointArc((-70.770295589, 12.215850507), (-77.738508199, 14.289531708), (-85.007070656, 14.134159464))
        make_face()
    cut_extrude4 = extrude(amount=-CUT_EXTRUDE4_DEPTH, mode=Mode.SUBTRACT)

    # Fillet2
    fillet2_edges = [part.edges().sort_by_distance(p)[0] for p in [
        (-54.721563152, 3.5, -7.123862376),
        (-19.495445827, 3.5, -8.508783011),
        (10.5, 3.5, 0),
        (-28.3684014, 3.5, 7.576197801),
        (-64.352613326, 3.5, 4.84010304),
        (-73.123679323, 3.5, 6.448478091),
        (-71.079010977, 3.5, 4.48994755),
        (-67.532626551, 3.5, 1.596931653),
        (-70.282377607, 3.5, -4.630242978),
        (-74.300393504, 3.5, -10.125184563),
        (-78.579010977, 3.5, -8.500433507),
        (-82.983825747, 3.5, -10.629796486),
        (-77.738508199, 3.5, -14.289531708),
    ]]
    fillet(fillet2_edges, radius=FILLET2_R)

    # Mirror1: Cut-Extrude4 across plane
    add(cut_extrude4.mirror(Plane.ZX), mode=Mode.SUBTRACT)

    # Fillet2 of Mirror1
    fillet2_of_mirror1_edges = [part.edges().sort_by_distance(p)[0] for p in [
        (-54.721563152, -3.5, -7.123862376),
        (-19.495445827, -3.5, -8.508783011),
        (10.5, -3.5, 0),
        (-28.3684014, -3.5, 7.576197801),
        (-64.352613326, -3.5, 4.84010304),
        (-73.123679323, -3.5, 6.448478091),
        (-71.079010977, -3.5, 4.48994755),
        (-67.532626551, -3.5, 1.596931653),
        (-70.282377607, -3.5, -4.630242978),
        (-74.300393504, -3.5, -10.125184563),
        (-78.579010977, -3.5, -8.500433507),
        (-82.983825747, -3.5, -10.629796486),
        (-77.738508199, -3.5, -14.289531708),
    ]]
    fillet(fillet2_of_mirror1_edges, radius=FILLET2_OF_MIRROR1_R)


solid = part.part
